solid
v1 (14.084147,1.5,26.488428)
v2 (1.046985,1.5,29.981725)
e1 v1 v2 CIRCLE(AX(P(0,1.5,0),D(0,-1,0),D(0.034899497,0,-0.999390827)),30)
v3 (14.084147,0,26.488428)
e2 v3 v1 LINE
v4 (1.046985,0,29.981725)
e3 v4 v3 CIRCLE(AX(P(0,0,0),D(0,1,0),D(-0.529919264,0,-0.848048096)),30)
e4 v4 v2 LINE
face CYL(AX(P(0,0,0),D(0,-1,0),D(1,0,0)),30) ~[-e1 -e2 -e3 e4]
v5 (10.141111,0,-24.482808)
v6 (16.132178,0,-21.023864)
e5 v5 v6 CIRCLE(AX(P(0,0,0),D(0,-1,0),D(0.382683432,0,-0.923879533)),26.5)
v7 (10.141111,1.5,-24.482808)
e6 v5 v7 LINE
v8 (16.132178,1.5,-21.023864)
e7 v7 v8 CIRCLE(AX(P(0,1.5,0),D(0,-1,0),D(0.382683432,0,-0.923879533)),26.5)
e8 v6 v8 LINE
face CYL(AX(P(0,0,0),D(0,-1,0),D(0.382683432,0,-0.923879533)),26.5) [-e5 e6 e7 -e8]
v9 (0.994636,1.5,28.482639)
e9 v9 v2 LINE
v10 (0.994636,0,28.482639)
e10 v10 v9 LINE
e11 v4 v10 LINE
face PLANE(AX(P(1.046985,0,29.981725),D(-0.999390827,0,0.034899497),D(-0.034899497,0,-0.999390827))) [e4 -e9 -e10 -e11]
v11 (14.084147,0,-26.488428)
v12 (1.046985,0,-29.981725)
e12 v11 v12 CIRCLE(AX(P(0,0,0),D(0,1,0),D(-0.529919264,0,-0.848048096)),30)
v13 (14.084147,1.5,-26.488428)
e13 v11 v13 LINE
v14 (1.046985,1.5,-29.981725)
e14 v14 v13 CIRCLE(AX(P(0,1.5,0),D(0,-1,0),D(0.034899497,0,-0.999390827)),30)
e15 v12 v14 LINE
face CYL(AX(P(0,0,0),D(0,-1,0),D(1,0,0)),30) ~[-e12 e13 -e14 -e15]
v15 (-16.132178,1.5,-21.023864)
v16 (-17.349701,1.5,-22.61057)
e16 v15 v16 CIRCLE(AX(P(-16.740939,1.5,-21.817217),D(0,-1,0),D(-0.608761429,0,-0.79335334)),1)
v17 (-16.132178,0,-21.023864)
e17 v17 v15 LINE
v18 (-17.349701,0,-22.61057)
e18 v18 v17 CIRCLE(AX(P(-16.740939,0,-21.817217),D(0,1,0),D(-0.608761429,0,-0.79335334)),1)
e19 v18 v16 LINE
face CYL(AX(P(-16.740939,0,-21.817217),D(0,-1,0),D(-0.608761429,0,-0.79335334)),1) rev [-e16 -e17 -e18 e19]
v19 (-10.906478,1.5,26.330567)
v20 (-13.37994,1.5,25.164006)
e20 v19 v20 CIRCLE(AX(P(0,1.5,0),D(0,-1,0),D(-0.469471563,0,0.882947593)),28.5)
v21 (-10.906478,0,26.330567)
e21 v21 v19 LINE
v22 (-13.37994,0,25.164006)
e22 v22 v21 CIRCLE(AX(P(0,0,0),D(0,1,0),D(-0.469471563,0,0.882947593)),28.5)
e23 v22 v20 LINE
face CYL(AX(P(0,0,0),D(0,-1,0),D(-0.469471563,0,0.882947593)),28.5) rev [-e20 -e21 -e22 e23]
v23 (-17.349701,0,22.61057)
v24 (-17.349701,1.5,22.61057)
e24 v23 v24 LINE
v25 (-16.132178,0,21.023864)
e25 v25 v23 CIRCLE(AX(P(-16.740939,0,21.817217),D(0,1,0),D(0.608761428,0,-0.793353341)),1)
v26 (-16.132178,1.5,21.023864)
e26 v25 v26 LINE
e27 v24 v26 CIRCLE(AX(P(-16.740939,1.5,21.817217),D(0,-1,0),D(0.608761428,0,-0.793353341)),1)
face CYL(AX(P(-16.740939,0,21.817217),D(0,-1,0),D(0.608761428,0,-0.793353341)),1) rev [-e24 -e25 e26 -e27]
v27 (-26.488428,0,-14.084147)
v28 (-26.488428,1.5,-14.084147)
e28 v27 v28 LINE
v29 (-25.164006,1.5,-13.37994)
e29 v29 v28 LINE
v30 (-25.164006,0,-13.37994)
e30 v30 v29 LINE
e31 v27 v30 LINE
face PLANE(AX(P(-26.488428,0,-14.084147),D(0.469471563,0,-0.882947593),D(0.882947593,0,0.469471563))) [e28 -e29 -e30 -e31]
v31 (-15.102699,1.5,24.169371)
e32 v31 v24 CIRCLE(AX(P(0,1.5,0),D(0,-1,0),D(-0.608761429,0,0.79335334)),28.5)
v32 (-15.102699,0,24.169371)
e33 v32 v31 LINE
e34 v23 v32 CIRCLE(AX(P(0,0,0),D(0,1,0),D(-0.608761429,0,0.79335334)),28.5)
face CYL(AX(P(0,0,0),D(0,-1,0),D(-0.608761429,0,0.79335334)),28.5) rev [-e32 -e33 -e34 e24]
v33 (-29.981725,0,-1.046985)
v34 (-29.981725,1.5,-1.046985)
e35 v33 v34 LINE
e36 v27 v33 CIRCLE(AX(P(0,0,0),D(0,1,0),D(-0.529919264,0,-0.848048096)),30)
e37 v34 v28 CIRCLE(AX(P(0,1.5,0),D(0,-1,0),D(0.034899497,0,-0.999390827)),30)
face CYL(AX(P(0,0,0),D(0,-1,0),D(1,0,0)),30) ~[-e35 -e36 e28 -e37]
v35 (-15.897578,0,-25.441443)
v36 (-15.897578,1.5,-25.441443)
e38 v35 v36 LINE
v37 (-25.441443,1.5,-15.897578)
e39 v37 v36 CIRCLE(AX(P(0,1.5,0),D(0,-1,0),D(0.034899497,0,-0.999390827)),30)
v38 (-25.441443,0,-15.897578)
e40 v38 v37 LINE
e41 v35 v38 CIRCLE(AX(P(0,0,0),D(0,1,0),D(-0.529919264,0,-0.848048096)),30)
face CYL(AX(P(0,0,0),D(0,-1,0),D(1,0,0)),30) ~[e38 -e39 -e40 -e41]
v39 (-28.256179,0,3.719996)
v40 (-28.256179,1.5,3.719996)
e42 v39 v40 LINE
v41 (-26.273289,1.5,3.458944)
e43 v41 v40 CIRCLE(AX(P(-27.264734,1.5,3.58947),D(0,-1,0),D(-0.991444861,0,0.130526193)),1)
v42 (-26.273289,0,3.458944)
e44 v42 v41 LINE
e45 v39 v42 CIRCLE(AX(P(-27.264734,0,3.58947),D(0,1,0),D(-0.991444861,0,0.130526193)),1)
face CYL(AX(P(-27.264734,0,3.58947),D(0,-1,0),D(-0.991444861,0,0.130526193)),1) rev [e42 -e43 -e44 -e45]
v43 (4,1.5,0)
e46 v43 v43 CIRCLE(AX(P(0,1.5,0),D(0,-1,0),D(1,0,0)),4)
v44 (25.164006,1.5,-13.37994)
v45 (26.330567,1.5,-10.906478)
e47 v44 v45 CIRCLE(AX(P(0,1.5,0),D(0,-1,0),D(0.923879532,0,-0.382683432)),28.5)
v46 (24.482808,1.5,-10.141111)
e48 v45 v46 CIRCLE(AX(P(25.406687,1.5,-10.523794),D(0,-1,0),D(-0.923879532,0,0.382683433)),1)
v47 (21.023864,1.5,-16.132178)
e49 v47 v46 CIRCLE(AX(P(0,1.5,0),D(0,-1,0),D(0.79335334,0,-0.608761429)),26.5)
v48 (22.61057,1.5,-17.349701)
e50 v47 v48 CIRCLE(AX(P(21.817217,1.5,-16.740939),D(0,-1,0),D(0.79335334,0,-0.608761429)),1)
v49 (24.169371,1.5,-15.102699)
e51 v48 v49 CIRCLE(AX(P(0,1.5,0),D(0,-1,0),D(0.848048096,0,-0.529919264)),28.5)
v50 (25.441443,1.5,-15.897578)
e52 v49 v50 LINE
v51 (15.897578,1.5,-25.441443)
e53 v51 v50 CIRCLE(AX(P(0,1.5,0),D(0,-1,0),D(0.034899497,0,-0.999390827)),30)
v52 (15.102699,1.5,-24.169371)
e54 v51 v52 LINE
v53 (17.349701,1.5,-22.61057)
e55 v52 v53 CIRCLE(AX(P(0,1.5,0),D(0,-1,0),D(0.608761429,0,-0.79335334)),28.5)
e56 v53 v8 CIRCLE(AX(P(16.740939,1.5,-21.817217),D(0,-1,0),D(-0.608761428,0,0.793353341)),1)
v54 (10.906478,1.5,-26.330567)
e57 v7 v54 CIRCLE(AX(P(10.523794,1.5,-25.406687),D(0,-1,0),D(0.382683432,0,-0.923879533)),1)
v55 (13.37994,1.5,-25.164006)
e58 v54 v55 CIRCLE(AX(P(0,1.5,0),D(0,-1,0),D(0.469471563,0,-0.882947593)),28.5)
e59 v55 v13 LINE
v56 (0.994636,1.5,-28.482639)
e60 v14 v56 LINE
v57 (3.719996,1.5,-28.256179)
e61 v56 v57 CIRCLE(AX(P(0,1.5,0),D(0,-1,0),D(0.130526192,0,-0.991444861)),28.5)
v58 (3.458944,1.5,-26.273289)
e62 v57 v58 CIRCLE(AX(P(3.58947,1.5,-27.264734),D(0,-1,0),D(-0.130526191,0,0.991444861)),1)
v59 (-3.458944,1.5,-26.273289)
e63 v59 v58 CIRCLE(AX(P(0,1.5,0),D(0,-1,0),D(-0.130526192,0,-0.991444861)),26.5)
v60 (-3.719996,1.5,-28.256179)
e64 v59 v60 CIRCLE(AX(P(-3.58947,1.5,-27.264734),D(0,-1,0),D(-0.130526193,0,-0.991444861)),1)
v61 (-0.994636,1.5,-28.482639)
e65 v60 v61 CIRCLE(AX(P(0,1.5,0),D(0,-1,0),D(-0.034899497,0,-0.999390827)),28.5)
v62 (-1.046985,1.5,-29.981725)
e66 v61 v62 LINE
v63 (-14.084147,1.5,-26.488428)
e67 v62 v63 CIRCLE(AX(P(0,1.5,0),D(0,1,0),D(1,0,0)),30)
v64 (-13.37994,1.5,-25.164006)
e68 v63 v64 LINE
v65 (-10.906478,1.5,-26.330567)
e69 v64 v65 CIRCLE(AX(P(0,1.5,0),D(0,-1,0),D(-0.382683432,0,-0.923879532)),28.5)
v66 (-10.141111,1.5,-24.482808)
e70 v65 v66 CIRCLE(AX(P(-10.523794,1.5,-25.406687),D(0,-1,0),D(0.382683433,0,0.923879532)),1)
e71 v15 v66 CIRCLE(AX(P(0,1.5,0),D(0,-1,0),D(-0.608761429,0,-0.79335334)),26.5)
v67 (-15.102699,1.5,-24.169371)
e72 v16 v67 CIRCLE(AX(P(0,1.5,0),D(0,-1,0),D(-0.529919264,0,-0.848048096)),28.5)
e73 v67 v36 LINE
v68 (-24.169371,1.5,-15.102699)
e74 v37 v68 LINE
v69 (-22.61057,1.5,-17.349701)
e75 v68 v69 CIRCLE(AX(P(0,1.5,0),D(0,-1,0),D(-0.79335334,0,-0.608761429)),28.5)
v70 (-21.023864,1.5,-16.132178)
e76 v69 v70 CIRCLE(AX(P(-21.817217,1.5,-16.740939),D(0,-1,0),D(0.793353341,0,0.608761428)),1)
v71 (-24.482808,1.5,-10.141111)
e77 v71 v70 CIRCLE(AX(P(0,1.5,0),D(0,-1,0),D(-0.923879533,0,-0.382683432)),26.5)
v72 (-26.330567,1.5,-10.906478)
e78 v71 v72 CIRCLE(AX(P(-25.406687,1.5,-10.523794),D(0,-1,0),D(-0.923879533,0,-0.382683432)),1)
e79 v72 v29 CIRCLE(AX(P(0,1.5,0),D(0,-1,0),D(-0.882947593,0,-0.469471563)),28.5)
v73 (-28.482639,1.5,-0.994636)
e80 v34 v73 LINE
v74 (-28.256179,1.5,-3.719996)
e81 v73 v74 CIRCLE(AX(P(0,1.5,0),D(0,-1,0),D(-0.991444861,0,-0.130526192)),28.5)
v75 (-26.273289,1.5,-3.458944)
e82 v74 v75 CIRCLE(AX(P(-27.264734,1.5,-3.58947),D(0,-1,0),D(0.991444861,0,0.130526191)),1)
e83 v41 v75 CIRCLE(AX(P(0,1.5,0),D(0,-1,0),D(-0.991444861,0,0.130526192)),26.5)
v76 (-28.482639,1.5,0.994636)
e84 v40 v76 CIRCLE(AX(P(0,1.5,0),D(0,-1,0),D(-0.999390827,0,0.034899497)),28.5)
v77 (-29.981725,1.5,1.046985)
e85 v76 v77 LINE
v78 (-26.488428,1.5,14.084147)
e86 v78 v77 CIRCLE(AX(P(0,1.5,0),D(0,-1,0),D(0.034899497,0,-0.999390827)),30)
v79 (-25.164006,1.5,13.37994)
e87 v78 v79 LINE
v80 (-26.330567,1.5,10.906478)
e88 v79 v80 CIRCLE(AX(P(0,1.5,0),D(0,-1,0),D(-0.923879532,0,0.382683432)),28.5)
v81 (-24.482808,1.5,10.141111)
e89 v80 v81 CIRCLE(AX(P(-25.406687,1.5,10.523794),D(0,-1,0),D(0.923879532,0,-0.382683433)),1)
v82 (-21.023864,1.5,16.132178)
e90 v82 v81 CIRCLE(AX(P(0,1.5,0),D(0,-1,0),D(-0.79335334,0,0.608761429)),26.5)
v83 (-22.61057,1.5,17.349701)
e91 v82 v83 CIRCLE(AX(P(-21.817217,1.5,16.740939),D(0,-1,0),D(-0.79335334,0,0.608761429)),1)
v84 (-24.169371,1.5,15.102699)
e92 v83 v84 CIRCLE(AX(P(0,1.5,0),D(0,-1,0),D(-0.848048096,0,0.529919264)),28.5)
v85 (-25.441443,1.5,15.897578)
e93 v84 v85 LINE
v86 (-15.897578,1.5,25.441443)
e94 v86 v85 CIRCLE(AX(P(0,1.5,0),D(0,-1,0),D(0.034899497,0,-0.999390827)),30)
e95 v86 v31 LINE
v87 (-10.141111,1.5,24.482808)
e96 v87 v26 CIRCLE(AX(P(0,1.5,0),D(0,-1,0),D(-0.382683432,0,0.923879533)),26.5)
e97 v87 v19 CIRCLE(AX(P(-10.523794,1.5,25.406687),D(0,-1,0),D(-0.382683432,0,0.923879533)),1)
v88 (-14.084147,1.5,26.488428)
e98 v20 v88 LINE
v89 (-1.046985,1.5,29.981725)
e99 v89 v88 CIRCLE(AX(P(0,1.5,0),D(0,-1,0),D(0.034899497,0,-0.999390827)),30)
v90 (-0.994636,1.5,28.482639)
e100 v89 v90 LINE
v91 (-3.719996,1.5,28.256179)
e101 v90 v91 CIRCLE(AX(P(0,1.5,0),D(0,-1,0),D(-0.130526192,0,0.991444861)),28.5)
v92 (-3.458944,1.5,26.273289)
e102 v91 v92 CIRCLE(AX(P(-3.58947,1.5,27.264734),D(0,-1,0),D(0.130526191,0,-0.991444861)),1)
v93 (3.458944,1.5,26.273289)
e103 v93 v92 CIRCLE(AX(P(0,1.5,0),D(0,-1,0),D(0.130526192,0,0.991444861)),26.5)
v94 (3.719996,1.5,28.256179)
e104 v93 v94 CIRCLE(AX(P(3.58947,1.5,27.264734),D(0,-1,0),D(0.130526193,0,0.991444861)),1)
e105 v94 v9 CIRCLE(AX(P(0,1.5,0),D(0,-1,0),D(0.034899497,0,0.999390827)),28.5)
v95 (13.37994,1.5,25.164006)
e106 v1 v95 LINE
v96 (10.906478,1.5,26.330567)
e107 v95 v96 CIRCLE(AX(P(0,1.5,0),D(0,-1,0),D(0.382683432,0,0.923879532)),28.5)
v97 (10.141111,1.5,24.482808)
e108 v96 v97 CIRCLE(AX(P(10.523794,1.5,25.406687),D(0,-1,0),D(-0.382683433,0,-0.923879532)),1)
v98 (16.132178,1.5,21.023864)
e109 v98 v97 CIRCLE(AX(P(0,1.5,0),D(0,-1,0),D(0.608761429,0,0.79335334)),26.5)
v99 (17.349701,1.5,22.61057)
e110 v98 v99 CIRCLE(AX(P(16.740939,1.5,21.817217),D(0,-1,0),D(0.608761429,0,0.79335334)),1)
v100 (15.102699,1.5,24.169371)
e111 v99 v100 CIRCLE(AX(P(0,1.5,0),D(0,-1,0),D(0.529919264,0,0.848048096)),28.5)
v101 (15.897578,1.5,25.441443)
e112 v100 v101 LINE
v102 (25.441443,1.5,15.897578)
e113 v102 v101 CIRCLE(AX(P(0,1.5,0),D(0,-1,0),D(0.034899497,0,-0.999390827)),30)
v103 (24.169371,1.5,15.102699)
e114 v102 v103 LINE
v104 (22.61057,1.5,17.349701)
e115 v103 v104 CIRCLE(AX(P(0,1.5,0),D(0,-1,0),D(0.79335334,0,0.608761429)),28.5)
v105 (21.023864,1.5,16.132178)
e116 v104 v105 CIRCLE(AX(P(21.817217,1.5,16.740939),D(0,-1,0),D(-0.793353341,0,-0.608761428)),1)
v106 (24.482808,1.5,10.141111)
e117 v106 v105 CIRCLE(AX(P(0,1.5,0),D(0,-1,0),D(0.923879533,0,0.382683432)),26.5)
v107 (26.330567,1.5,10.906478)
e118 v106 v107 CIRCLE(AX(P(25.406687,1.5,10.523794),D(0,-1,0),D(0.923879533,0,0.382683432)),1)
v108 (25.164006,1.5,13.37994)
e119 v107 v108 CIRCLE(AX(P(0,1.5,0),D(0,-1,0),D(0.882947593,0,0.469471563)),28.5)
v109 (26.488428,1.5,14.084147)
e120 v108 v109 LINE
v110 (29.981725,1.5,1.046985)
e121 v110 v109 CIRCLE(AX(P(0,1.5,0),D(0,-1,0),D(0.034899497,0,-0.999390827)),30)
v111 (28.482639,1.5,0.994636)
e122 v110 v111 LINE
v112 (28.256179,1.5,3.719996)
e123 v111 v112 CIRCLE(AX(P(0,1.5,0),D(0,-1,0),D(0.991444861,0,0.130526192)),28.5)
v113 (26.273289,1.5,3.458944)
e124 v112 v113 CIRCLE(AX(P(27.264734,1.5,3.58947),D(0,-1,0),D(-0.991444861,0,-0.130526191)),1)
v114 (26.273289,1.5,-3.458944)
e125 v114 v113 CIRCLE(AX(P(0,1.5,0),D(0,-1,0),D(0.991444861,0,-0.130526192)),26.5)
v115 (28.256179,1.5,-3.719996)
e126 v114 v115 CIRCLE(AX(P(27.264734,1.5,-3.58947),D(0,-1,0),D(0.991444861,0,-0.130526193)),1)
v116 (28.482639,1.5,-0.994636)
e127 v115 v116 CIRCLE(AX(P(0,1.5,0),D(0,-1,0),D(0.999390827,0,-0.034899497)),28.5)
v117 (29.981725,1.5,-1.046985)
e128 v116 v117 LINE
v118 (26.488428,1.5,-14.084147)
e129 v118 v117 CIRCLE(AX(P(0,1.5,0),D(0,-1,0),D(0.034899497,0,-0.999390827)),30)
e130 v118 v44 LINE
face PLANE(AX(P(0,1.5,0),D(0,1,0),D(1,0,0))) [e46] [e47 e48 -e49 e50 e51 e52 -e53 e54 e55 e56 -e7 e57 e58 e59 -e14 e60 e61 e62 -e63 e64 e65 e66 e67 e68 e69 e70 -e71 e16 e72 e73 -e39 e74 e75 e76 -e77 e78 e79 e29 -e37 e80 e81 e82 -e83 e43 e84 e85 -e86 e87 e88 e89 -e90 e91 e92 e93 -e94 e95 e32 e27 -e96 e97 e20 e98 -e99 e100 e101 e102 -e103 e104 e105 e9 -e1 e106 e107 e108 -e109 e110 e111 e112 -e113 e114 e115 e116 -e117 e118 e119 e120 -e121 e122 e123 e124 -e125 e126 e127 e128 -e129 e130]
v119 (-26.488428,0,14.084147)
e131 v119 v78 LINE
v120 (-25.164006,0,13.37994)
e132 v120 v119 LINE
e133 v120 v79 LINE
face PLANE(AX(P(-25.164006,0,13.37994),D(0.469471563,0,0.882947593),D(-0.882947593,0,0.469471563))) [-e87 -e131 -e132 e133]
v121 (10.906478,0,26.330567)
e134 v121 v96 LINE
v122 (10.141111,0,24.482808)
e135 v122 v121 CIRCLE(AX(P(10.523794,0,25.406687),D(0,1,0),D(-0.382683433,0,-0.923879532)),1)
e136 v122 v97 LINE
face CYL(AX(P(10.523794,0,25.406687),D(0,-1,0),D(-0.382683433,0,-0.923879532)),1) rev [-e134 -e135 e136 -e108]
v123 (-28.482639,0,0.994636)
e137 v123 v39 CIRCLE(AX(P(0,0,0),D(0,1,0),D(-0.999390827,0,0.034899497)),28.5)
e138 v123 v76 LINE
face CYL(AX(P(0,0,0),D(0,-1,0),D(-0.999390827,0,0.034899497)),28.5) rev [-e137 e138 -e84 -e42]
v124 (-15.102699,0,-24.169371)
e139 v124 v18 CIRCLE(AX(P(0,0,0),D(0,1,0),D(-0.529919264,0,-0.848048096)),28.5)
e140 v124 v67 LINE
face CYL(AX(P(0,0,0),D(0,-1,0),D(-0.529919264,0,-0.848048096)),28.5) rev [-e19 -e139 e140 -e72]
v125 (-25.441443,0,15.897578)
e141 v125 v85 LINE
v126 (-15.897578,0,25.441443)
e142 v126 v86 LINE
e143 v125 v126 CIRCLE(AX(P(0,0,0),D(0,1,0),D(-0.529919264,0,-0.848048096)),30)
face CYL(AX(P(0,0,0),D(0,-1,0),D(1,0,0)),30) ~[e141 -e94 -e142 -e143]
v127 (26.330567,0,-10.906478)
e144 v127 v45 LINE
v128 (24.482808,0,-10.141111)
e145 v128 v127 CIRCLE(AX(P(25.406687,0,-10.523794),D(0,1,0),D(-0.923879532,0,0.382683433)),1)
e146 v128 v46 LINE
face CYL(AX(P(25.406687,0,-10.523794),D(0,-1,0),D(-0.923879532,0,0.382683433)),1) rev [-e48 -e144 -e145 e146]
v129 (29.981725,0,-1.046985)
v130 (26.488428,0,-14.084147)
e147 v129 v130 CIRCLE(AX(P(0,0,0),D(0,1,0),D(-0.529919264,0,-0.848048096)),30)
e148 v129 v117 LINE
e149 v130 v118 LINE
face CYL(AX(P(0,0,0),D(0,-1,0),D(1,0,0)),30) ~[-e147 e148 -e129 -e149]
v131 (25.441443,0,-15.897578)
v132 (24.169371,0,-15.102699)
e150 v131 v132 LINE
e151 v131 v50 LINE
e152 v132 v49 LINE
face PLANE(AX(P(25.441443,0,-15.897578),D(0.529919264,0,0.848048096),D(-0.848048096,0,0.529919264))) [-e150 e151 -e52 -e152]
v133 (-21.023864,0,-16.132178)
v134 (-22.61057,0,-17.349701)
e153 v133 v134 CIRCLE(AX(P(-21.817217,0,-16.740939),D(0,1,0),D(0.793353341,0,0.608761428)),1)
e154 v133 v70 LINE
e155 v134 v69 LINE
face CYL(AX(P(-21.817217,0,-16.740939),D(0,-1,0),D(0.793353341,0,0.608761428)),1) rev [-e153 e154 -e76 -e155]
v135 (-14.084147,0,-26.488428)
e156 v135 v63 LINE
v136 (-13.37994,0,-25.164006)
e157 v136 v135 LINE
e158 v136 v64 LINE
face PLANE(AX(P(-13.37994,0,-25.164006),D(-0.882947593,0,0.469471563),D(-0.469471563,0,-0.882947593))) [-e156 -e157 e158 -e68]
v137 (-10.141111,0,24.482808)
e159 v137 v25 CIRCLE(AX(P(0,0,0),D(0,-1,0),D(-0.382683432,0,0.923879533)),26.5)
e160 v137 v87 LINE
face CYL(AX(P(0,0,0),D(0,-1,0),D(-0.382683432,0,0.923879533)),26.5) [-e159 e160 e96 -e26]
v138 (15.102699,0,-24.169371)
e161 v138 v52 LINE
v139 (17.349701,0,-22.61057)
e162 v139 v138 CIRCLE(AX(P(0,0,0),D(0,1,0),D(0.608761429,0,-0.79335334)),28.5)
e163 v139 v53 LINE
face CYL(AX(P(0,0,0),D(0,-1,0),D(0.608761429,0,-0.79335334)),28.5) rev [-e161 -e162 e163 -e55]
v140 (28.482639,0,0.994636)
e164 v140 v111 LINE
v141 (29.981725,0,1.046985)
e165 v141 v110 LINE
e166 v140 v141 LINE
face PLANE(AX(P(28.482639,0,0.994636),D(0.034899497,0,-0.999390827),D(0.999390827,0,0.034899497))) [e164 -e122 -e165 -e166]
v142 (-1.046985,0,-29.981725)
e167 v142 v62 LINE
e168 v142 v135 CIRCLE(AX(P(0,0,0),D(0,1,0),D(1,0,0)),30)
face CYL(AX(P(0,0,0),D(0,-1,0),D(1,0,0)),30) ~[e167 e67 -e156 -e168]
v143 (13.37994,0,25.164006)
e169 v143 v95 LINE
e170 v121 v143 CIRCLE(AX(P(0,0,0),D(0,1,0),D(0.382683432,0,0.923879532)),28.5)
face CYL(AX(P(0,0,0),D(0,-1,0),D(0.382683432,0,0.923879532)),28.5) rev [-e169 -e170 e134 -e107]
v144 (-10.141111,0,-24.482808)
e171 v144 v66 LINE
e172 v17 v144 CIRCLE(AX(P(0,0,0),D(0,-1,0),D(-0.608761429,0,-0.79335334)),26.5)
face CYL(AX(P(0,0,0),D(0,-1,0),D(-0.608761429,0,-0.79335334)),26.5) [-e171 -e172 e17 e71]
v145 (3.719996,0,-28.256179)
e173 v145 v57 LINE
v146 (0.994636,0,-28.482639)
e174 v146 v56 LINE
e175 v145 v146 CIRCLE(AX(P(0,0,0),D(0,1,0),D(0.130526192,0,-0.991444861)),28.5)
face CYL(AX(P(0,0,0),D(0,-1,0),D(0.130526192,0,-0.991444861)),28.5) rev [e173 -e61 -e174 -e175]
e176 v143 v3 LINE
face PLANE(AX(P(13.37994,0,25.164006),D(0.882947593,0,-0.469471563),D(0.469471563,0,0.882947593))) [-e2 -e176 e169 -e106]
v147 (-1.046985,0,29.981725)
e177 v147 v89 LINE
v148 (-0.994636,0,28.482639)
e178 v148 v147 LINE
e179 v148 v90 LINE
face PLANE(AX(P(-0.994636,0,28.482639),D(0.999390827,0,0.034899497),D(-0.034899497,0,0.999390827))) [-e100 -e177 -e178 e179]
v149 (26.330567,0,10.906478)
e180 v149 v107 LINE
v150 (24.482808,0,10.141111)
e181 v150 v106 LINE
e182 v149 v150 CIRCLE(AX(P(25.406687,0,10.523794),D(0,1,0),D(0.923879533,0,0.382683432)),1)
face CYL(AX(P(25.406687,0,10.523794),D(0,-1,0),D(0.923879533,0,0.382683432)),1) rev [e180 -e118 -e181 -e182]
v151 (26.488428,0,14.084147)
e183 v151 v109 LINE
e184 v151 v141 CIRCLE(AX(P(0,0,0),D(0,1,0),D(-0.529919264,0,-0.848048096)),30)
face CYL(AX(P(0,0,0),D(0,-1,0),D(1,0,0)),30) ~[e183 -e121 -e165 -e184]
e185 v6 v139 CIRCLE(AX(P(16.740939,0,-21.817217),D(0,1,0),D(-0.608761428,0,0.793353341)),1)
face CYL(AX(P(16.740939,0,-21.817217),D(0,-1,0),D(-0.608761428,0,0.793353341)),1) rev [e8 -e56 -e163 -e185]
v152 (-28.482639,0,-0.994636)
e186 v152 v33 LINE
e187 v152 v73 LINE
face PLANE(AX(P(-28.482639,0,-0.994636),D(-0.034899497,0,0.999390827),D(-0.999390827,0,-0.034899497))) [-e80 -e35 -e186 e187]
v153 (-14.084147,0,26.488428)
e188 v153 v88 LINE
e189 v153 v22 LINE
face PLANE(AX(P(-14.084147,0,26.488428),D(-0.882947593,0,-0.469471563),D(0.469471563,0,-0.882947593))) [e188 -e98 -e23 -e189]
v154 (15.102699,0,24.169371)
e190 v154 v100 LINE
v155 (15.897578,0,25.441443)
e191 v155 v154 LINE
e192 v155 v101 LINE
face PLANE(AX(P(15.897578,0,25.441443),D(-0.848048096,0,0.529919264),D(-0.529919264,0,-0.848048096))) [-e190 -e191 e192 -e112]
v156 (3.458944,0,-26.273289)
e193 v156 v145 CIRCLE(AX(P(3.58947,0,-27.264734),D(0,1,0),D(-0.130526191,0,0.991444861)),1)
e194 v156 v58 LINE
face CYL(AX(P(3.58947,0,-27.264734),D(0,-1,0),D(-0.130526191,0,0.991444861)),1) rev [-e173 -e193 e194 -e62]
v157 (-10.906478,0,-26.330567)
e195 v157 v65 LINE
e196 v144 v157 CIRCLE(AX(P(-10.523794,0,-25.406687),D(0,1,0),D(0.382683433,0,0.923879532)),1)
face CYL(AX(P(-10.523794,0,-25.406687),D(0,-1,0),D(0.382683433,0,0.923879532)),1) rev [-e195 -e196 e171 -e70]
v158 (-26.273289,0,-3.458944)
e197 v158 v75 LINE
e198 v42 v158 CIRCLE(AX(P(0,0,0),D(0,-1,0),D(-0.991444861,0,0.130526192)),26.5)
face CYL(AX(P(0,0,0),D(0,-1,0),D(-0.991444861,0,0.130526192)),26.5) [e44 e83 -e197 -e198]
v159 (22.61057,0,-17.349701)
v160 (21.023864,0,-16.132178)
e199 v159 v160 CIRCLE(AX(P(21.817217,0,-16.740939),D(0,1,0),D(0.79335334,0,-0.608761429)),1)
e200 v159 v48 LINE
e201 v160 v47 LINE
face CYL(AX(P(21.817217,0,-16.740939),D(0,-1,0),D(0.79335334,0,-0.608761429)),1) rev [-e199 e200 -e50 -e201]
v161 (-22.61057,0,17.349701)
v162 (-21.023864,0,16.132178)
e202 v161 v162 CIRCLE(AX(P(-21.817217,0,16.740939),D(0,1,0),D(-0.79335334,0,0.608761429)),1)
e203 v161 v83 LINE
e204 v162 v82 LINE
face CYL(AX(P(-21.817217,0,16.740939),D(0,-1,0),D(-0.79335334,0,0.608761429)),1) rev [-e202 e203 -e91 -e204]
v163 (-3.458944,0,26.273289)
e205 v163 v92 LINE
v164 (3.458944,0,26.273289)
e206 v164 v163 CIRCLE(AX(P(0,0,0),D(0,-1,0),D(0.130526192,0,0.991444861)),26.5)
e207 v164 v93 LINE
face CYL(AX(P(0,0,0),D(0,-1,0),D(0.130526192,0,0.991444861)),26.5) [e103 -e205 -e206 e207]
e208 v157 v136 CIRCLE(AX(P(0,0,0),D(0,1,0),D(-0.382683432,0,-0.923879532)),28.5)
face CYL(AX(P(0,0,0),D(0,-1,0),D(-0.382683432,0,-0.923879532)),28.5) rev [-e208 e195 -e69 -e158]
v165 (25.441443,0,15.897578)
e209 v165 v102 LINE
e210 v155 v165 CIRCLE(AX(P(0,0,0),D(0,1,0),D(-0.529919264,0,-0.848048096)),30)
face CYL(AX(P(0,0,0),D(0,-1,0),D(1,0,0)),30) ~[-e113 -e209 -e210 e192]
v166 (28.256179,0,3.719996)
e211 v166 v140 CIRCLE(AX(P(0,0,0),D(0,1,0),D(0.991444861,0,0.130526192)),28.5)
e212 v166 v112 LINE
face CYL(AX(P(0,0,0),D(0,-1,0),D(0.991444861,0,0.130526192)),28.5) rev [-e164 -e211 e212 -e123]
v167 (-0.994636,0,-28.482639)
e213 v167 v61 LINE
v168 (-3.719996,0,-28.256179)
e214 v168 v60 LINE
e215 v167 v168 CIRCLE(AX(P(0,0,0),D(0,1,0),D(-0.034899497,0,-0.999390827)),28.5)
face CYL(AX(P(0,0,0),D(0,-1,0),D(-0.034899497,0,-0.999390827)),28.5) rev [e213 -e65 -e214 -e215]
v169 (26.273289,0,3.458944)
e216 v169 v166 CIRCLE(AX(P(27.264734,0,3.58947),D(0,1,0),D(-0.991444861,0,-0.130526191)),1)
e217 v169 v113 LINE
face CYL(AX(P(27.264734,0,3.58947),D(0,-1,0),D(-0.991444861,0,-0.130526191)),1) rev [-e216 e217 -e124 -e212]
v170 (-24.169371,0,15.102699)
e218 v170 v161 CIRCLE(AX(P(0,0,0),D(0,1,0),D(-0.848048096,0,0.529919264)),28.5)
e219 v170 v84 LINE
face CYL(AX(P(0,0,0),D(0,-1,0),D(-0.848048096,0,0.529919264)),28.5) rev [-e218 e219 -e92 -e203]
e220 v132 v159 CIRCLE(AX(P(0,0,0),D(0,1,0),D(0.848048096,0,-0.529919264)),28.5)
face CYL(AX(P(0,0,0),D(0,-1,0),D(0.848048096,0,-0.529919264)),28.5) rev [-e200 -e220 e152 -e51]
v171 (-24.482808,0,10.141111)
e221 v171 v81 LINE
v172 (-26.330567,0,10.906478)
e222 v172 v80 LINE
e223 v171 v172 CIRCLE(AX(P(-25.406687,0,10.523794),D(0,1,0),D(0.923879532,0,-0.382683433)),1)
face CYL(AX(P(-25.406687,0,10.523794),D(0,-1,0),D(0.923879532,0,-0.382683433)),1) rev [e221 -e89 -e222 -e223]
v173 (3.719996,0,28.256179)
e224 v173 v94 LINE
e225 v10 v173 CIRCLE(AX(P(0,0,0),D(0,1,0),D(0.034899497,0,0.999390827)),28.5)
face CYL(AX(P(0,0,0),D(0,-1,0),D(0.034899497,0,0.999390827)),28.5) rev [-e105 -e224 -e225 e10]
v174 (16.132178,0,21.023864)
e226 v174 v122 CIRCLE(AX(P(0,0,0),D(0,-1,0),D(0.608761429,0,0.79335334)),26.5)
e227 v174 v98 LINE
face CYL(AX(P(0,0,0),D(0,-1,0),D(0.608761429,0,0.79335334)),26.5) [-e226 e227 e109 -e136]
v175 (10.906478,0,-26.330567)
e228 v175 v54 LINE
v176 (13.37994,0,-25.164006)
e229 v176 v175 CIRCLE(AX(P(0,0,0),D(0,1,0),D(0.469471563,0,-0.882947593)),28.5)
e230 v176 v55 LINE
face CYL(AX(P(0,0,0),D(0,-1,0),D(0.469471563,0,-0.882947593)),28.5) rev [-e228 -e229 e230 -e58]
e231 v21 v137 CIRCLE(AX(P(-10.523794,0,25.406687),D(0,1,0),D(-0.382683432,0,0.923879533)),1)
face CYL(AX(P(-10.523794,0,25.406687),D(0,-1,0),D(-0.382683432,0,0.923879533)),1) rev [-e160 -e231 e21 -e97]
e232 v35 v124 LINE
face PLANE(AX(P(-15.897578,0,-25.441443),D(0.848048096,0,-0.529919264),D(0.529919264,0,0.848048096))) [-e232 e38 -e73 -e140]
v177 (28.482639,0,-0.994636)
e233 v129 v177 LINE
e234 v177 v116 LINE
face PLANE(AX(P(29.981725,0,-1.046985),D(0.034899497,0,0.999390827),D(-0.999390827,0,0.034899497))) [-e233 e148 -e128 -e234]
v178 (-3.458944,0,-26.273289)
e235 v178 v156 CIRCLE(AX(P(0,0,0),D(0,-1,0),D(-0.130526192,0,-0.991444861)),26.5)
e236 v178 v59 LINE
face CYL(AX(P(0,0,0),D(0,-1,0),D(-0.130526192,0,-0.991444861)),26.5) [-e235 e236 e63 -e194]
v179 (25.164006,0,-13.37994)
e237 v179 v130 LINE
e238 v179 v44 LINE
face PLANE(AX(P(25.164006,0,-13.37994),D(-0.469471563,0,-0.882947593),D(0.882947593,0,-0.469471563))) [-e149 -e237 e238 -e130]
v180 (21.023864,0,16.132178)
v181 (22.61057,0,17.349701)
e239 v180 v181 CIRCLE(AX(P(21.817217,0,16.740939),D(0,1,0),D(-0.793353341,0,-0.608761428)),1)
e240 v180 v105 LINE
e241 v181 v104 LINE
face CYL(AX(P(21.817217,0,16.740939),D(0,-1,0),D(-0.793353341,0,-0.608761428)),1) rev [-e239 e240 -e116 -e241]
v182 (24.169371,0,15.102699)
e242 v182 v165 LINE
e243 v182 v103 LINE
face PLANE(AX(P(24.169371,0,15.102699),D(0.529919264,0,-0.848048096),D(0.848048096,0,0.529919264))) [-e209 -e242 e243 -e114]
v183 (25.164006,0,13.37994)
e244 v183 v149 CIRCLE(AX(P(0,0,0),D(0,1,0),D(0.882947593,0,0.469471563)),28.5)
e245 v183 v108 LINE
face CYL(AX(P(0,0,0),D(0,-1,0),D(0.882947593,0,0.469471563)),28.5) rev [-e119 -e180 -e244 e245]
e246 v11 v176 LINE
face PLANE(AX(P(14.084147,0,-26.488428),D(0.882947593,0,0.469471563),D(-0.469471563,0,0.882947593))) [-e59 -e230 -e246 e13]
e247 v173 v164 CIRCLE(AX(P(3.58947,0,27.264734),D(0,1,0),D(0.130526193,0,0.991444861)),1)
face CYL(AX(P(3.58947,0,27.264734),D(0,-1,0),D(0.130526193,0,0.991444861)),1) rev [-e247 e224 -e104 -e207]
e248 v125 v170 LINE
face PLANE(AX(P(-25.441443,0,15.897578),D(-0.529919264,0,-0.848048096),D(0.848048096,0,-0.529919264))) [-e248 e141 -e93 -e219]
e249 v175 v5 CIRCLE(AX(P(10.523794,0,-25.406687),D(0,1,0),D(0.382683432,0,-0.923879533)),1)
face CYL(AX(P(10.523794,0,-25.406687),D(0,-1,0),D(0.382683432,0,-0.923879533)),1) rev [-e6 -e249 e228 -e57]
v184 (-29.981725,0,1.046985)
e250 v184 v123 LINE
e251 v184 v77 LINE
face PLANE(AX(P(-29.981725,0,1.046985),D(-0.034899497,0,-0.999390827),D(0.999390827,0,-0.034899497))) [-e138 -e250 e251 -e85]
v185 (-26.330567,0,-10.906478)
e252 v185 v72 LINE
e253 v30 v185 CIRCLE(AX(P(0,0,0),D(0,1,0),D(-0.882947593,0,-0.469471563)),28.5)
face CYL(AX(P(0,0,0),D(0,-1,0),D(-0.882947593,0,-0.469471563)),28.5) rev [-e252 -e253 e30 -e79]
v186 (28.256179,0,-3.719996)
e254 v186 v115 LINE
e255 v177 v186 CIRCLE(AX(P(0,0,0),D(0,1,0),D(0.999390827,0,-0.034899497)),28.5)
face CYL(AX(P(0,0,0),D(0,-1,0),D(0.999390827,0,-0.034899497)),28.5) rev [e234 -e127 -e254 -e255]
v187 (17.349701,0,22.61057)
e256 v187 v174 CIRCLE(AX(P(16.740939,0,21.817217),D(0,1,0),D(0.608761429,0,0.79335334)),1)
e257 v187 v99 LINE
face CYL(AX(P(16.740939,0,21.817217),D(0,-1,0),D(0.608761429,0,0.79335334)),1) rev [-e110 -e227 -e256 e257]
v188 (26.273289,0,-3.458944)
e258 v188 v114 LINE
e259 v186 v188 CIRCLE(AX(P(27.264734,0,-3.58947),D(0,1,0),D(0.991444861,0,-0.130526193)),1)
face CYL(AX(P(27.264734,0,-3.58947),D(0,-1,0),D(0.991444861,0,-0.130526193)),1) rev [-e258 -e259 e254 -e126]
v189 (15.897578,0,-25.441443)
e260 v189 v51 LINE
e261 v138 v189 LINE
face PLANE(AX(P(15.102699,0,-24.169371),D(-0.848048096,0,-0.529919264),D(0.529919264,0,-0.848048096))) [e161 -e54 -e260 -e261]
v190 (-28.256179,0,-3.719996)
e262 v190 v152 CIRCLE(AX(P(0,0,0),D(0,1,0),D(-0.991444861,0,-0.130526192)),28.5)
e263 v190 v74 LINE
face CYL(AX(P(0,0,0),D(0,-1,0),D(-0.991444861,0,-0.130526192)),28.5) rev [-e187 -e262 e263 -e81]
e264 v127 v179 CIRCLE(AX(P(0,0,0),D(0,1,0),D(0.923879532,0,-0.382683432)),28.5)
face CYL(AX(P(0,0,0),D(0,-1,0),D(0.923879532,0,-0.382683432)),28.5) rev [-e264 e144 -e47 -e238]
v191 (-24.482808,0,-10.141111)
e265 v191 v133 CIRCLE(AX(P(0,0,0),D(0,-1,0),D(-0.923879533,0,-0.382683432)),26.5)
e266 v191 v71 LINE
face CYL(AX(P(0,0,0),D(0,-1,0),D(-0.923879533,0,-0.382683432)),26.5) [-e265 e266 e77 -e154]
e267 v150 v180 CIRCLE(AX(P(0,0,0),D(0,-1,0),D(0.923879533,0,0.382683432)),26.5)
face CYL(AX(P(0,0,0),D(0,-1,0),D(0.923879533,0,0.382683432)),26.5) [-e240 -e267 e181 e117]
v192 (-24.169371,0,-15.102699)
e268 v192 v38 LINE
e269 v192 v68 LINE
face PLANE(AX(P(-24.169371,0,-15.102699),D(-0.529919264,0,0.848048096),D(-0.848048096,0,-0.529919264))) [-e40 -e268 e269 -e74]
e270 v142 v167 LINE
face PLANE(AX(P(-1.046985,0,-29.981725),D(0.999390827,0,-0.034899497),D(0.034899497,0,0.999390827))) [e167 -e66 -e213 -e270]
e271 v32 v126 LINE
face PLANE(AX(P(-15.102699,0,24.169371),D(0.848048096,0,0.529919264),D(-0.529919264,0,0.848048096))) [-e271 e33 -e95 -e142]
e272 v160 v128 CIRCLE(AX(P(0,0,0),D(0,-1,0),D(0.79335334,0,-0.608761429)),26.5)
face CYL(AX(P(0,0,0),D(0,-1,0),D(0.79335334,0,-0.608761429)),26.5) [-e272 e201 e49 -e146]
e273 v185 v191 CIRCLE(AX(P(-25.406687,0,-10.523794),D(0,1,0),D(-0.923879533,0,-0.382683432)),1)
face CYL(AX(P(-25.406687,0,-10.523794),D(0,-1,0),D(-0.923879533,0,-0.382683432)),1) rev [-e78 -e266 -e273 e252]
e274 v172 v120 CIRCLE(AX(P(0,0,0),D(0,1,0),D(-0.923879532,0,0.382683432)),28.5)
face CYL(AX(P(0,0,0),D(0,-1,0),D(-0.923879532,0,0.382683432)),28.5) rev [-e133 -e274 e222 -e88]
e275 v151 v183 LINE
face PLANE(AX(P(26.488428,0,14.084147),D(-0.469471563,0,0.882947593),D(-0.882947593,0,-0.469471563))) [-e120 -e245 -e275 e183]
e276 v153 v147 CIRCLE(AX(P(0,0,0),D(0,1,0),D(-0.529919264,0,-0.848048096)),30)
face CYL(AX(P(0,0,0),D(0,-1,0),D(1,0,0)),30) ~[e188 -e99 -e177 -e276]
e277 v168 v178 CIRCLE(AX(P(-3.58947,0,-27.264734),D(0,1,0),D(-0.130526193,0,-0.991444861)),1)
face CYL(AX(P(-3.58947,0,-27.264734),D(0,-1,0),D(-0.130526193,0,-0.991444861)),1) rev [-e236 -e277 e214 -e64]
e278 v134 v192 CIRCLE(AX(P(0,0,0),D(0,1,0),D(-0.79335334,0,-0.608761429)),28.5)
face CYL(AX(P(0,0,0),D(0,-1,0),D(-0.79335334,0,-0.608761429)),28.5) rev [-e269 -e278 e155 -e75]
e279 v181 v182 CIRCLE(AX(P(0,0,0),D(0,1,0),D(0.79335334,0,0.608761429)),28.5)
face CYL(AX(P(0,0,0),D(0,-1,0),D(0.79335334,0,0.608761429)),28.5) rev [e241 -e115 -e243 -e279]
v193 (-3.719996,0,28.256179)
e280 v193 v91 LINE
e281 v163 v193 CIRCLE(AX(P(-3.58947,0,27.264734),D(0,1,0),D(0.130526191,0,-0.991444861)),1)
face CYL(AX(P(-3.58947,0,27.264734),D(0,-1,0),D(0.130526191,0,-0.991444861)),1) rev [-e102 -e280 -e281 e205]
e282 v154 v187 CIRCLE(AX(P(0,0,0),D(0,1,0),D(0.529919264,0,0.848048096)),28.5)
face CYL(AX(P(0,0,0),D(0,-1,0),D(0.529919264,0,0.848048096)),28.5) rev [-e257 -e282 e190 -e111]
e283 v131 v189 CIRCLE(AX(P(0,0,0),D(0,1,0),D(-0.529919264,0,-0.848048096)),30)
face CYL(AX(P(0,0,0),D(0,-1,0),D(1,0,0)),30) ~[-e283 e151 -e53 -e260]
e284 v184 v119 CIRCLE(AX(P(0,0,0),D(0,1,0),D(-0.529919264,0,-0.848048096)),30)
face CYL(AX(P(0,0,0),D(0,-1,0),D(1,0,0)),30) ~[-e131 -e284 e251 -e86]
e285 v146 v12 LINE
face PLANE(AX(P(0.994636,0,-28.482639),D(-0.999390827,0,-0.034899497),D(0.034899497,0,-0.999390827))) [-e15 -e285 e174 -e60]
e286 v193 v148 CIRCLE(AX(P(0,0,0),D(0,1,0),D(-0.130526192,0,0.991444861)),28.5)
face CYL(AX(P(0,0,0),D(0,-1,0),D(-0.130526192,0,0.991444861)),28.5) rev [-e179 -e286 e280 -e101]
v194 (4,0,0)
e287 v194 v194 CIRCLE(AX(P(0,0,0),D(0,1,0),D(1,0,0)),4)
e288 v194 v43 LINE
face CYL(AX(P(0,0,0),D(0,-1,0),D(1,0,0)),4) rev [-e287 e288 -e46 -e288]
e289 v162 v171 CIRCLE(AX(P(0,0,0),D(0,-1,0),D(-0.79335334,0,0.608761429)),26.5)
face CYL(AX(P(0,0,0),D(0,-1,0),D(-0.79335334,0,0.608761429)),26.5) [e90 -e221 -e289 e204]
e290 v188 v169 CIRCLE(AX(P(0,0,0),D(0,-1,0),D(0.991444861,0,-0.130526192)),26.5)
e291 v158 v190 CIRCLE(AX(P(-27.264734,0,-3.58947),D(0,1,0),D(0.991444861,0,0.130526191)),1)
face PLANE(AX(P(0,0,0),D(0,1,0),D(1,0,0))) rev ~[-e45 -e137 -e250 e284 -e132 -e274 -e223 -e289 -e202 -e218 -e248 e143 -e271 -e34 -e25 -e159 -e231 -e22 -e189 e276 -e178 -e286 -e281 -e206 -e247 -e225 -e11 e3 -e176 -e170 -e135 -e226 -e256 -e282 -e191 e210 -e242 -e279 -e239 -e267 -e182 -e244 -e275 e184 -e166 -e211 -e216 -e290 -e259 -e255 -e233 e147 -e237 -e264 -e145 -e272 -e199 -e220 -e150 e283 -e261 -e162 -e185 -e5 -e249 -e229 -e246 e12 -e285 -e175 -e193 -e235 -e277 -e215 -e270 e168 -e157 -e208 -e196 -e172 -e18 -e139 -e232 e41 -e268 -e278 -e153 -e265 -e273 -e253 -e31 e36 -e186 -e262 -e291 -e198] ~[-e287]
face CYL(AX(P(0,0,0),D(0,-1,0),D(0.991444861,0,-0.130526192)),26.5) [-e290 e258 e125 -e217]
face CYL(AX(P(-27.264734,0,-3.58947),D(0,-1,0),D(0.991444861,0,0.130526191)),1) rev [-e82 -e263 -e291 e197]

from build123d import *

# Parameters (mm, degrees)
SKETCH1_R         = 30
WHEEL_BLANK_DEPTH = 1.5
T_SLOT_DEPTH      = 2.5
CIRPATTERN1_COUNT = 12
SKETCH3_R         = 4
CENTER_HOLE_DEPTH = 6


with BuildPart() as part:
    # Sketch1 → Wheel Blank (new body)
    with BuildSketch(Plane(origin=(0, 0, 0), x_dir=(1, 0, 0), z_dir=(0, 1, 0))):
        Circle(SKETCH1_R)
    extrude(amount=WHEEL_BLANK_DEPTH)

    # Sketch2 → T-Slot (cut, through all)
    with BuildSketch(Plane(origin=(0, 0, 0), x_dir=(1, 0, 0), z_dir=(0, 1, 0))):
        with BuildLine():
            Line((-1.046984901, 29.981724811), (-0.994635656, 28.48263857))
            ThreePointArc((-0.994635656, 28.48263857), (-2.360033914, 28.402116821), (-3.719996478, 28.256178549))
            ThreePointArc((-3.719996478, 28.256178549), (-4.580915147, 27.134207496), (-3.458944094, 26.273288826))
            ThreePointArc((-3.458944094, 26.273288826), (0, 26.5), (3.458944094, 26.273288826))
            ThreePointArc((3.458944094, 26.273288826), (4.580915147, 27.134207496), (3.719996478, 28.256178549))
            ThreePointArc((3.719996478, 28.256178549), (2.360033914, 28.402116821), (0.994635656, 28.48263857))
            Line((0.994635656, 28.48263857), (1.046984901, 29.981724811))
            ThreePointArc((1.046984901, 29.981724811), (0, 30), (-1.046984901, 29.981724811))
        make_face()
    t_slot = extrude(amount=T_SLOT_DEPTH, mode=Mode.SUBTRACT)

    # CirPattern1: T-Slot ×12 about axis
    cirpattern1_axis = Axis((0, 0, 0), (0, 1, 0))
    for i in range(1, CIRPATTERN1_COUNT):
        add(t_slot.rotate(cirpattern1_axis, i * 360 / CIRPATTERN1_COUNT), mode=Mode.SUBTRACT)

    # Sketch3 → Center Hole (cut)
    with BuildSketch(Plane(origin=(0, 0, 0), x_dir=(1, 0, 0), z_dir=(0, 1, 0))):
        Circle(SKETCH3_R)
    extrude(amount=CENTER_HOLE_DEPTH, mode=Mode.SUBTRACT)


solid = part.part
